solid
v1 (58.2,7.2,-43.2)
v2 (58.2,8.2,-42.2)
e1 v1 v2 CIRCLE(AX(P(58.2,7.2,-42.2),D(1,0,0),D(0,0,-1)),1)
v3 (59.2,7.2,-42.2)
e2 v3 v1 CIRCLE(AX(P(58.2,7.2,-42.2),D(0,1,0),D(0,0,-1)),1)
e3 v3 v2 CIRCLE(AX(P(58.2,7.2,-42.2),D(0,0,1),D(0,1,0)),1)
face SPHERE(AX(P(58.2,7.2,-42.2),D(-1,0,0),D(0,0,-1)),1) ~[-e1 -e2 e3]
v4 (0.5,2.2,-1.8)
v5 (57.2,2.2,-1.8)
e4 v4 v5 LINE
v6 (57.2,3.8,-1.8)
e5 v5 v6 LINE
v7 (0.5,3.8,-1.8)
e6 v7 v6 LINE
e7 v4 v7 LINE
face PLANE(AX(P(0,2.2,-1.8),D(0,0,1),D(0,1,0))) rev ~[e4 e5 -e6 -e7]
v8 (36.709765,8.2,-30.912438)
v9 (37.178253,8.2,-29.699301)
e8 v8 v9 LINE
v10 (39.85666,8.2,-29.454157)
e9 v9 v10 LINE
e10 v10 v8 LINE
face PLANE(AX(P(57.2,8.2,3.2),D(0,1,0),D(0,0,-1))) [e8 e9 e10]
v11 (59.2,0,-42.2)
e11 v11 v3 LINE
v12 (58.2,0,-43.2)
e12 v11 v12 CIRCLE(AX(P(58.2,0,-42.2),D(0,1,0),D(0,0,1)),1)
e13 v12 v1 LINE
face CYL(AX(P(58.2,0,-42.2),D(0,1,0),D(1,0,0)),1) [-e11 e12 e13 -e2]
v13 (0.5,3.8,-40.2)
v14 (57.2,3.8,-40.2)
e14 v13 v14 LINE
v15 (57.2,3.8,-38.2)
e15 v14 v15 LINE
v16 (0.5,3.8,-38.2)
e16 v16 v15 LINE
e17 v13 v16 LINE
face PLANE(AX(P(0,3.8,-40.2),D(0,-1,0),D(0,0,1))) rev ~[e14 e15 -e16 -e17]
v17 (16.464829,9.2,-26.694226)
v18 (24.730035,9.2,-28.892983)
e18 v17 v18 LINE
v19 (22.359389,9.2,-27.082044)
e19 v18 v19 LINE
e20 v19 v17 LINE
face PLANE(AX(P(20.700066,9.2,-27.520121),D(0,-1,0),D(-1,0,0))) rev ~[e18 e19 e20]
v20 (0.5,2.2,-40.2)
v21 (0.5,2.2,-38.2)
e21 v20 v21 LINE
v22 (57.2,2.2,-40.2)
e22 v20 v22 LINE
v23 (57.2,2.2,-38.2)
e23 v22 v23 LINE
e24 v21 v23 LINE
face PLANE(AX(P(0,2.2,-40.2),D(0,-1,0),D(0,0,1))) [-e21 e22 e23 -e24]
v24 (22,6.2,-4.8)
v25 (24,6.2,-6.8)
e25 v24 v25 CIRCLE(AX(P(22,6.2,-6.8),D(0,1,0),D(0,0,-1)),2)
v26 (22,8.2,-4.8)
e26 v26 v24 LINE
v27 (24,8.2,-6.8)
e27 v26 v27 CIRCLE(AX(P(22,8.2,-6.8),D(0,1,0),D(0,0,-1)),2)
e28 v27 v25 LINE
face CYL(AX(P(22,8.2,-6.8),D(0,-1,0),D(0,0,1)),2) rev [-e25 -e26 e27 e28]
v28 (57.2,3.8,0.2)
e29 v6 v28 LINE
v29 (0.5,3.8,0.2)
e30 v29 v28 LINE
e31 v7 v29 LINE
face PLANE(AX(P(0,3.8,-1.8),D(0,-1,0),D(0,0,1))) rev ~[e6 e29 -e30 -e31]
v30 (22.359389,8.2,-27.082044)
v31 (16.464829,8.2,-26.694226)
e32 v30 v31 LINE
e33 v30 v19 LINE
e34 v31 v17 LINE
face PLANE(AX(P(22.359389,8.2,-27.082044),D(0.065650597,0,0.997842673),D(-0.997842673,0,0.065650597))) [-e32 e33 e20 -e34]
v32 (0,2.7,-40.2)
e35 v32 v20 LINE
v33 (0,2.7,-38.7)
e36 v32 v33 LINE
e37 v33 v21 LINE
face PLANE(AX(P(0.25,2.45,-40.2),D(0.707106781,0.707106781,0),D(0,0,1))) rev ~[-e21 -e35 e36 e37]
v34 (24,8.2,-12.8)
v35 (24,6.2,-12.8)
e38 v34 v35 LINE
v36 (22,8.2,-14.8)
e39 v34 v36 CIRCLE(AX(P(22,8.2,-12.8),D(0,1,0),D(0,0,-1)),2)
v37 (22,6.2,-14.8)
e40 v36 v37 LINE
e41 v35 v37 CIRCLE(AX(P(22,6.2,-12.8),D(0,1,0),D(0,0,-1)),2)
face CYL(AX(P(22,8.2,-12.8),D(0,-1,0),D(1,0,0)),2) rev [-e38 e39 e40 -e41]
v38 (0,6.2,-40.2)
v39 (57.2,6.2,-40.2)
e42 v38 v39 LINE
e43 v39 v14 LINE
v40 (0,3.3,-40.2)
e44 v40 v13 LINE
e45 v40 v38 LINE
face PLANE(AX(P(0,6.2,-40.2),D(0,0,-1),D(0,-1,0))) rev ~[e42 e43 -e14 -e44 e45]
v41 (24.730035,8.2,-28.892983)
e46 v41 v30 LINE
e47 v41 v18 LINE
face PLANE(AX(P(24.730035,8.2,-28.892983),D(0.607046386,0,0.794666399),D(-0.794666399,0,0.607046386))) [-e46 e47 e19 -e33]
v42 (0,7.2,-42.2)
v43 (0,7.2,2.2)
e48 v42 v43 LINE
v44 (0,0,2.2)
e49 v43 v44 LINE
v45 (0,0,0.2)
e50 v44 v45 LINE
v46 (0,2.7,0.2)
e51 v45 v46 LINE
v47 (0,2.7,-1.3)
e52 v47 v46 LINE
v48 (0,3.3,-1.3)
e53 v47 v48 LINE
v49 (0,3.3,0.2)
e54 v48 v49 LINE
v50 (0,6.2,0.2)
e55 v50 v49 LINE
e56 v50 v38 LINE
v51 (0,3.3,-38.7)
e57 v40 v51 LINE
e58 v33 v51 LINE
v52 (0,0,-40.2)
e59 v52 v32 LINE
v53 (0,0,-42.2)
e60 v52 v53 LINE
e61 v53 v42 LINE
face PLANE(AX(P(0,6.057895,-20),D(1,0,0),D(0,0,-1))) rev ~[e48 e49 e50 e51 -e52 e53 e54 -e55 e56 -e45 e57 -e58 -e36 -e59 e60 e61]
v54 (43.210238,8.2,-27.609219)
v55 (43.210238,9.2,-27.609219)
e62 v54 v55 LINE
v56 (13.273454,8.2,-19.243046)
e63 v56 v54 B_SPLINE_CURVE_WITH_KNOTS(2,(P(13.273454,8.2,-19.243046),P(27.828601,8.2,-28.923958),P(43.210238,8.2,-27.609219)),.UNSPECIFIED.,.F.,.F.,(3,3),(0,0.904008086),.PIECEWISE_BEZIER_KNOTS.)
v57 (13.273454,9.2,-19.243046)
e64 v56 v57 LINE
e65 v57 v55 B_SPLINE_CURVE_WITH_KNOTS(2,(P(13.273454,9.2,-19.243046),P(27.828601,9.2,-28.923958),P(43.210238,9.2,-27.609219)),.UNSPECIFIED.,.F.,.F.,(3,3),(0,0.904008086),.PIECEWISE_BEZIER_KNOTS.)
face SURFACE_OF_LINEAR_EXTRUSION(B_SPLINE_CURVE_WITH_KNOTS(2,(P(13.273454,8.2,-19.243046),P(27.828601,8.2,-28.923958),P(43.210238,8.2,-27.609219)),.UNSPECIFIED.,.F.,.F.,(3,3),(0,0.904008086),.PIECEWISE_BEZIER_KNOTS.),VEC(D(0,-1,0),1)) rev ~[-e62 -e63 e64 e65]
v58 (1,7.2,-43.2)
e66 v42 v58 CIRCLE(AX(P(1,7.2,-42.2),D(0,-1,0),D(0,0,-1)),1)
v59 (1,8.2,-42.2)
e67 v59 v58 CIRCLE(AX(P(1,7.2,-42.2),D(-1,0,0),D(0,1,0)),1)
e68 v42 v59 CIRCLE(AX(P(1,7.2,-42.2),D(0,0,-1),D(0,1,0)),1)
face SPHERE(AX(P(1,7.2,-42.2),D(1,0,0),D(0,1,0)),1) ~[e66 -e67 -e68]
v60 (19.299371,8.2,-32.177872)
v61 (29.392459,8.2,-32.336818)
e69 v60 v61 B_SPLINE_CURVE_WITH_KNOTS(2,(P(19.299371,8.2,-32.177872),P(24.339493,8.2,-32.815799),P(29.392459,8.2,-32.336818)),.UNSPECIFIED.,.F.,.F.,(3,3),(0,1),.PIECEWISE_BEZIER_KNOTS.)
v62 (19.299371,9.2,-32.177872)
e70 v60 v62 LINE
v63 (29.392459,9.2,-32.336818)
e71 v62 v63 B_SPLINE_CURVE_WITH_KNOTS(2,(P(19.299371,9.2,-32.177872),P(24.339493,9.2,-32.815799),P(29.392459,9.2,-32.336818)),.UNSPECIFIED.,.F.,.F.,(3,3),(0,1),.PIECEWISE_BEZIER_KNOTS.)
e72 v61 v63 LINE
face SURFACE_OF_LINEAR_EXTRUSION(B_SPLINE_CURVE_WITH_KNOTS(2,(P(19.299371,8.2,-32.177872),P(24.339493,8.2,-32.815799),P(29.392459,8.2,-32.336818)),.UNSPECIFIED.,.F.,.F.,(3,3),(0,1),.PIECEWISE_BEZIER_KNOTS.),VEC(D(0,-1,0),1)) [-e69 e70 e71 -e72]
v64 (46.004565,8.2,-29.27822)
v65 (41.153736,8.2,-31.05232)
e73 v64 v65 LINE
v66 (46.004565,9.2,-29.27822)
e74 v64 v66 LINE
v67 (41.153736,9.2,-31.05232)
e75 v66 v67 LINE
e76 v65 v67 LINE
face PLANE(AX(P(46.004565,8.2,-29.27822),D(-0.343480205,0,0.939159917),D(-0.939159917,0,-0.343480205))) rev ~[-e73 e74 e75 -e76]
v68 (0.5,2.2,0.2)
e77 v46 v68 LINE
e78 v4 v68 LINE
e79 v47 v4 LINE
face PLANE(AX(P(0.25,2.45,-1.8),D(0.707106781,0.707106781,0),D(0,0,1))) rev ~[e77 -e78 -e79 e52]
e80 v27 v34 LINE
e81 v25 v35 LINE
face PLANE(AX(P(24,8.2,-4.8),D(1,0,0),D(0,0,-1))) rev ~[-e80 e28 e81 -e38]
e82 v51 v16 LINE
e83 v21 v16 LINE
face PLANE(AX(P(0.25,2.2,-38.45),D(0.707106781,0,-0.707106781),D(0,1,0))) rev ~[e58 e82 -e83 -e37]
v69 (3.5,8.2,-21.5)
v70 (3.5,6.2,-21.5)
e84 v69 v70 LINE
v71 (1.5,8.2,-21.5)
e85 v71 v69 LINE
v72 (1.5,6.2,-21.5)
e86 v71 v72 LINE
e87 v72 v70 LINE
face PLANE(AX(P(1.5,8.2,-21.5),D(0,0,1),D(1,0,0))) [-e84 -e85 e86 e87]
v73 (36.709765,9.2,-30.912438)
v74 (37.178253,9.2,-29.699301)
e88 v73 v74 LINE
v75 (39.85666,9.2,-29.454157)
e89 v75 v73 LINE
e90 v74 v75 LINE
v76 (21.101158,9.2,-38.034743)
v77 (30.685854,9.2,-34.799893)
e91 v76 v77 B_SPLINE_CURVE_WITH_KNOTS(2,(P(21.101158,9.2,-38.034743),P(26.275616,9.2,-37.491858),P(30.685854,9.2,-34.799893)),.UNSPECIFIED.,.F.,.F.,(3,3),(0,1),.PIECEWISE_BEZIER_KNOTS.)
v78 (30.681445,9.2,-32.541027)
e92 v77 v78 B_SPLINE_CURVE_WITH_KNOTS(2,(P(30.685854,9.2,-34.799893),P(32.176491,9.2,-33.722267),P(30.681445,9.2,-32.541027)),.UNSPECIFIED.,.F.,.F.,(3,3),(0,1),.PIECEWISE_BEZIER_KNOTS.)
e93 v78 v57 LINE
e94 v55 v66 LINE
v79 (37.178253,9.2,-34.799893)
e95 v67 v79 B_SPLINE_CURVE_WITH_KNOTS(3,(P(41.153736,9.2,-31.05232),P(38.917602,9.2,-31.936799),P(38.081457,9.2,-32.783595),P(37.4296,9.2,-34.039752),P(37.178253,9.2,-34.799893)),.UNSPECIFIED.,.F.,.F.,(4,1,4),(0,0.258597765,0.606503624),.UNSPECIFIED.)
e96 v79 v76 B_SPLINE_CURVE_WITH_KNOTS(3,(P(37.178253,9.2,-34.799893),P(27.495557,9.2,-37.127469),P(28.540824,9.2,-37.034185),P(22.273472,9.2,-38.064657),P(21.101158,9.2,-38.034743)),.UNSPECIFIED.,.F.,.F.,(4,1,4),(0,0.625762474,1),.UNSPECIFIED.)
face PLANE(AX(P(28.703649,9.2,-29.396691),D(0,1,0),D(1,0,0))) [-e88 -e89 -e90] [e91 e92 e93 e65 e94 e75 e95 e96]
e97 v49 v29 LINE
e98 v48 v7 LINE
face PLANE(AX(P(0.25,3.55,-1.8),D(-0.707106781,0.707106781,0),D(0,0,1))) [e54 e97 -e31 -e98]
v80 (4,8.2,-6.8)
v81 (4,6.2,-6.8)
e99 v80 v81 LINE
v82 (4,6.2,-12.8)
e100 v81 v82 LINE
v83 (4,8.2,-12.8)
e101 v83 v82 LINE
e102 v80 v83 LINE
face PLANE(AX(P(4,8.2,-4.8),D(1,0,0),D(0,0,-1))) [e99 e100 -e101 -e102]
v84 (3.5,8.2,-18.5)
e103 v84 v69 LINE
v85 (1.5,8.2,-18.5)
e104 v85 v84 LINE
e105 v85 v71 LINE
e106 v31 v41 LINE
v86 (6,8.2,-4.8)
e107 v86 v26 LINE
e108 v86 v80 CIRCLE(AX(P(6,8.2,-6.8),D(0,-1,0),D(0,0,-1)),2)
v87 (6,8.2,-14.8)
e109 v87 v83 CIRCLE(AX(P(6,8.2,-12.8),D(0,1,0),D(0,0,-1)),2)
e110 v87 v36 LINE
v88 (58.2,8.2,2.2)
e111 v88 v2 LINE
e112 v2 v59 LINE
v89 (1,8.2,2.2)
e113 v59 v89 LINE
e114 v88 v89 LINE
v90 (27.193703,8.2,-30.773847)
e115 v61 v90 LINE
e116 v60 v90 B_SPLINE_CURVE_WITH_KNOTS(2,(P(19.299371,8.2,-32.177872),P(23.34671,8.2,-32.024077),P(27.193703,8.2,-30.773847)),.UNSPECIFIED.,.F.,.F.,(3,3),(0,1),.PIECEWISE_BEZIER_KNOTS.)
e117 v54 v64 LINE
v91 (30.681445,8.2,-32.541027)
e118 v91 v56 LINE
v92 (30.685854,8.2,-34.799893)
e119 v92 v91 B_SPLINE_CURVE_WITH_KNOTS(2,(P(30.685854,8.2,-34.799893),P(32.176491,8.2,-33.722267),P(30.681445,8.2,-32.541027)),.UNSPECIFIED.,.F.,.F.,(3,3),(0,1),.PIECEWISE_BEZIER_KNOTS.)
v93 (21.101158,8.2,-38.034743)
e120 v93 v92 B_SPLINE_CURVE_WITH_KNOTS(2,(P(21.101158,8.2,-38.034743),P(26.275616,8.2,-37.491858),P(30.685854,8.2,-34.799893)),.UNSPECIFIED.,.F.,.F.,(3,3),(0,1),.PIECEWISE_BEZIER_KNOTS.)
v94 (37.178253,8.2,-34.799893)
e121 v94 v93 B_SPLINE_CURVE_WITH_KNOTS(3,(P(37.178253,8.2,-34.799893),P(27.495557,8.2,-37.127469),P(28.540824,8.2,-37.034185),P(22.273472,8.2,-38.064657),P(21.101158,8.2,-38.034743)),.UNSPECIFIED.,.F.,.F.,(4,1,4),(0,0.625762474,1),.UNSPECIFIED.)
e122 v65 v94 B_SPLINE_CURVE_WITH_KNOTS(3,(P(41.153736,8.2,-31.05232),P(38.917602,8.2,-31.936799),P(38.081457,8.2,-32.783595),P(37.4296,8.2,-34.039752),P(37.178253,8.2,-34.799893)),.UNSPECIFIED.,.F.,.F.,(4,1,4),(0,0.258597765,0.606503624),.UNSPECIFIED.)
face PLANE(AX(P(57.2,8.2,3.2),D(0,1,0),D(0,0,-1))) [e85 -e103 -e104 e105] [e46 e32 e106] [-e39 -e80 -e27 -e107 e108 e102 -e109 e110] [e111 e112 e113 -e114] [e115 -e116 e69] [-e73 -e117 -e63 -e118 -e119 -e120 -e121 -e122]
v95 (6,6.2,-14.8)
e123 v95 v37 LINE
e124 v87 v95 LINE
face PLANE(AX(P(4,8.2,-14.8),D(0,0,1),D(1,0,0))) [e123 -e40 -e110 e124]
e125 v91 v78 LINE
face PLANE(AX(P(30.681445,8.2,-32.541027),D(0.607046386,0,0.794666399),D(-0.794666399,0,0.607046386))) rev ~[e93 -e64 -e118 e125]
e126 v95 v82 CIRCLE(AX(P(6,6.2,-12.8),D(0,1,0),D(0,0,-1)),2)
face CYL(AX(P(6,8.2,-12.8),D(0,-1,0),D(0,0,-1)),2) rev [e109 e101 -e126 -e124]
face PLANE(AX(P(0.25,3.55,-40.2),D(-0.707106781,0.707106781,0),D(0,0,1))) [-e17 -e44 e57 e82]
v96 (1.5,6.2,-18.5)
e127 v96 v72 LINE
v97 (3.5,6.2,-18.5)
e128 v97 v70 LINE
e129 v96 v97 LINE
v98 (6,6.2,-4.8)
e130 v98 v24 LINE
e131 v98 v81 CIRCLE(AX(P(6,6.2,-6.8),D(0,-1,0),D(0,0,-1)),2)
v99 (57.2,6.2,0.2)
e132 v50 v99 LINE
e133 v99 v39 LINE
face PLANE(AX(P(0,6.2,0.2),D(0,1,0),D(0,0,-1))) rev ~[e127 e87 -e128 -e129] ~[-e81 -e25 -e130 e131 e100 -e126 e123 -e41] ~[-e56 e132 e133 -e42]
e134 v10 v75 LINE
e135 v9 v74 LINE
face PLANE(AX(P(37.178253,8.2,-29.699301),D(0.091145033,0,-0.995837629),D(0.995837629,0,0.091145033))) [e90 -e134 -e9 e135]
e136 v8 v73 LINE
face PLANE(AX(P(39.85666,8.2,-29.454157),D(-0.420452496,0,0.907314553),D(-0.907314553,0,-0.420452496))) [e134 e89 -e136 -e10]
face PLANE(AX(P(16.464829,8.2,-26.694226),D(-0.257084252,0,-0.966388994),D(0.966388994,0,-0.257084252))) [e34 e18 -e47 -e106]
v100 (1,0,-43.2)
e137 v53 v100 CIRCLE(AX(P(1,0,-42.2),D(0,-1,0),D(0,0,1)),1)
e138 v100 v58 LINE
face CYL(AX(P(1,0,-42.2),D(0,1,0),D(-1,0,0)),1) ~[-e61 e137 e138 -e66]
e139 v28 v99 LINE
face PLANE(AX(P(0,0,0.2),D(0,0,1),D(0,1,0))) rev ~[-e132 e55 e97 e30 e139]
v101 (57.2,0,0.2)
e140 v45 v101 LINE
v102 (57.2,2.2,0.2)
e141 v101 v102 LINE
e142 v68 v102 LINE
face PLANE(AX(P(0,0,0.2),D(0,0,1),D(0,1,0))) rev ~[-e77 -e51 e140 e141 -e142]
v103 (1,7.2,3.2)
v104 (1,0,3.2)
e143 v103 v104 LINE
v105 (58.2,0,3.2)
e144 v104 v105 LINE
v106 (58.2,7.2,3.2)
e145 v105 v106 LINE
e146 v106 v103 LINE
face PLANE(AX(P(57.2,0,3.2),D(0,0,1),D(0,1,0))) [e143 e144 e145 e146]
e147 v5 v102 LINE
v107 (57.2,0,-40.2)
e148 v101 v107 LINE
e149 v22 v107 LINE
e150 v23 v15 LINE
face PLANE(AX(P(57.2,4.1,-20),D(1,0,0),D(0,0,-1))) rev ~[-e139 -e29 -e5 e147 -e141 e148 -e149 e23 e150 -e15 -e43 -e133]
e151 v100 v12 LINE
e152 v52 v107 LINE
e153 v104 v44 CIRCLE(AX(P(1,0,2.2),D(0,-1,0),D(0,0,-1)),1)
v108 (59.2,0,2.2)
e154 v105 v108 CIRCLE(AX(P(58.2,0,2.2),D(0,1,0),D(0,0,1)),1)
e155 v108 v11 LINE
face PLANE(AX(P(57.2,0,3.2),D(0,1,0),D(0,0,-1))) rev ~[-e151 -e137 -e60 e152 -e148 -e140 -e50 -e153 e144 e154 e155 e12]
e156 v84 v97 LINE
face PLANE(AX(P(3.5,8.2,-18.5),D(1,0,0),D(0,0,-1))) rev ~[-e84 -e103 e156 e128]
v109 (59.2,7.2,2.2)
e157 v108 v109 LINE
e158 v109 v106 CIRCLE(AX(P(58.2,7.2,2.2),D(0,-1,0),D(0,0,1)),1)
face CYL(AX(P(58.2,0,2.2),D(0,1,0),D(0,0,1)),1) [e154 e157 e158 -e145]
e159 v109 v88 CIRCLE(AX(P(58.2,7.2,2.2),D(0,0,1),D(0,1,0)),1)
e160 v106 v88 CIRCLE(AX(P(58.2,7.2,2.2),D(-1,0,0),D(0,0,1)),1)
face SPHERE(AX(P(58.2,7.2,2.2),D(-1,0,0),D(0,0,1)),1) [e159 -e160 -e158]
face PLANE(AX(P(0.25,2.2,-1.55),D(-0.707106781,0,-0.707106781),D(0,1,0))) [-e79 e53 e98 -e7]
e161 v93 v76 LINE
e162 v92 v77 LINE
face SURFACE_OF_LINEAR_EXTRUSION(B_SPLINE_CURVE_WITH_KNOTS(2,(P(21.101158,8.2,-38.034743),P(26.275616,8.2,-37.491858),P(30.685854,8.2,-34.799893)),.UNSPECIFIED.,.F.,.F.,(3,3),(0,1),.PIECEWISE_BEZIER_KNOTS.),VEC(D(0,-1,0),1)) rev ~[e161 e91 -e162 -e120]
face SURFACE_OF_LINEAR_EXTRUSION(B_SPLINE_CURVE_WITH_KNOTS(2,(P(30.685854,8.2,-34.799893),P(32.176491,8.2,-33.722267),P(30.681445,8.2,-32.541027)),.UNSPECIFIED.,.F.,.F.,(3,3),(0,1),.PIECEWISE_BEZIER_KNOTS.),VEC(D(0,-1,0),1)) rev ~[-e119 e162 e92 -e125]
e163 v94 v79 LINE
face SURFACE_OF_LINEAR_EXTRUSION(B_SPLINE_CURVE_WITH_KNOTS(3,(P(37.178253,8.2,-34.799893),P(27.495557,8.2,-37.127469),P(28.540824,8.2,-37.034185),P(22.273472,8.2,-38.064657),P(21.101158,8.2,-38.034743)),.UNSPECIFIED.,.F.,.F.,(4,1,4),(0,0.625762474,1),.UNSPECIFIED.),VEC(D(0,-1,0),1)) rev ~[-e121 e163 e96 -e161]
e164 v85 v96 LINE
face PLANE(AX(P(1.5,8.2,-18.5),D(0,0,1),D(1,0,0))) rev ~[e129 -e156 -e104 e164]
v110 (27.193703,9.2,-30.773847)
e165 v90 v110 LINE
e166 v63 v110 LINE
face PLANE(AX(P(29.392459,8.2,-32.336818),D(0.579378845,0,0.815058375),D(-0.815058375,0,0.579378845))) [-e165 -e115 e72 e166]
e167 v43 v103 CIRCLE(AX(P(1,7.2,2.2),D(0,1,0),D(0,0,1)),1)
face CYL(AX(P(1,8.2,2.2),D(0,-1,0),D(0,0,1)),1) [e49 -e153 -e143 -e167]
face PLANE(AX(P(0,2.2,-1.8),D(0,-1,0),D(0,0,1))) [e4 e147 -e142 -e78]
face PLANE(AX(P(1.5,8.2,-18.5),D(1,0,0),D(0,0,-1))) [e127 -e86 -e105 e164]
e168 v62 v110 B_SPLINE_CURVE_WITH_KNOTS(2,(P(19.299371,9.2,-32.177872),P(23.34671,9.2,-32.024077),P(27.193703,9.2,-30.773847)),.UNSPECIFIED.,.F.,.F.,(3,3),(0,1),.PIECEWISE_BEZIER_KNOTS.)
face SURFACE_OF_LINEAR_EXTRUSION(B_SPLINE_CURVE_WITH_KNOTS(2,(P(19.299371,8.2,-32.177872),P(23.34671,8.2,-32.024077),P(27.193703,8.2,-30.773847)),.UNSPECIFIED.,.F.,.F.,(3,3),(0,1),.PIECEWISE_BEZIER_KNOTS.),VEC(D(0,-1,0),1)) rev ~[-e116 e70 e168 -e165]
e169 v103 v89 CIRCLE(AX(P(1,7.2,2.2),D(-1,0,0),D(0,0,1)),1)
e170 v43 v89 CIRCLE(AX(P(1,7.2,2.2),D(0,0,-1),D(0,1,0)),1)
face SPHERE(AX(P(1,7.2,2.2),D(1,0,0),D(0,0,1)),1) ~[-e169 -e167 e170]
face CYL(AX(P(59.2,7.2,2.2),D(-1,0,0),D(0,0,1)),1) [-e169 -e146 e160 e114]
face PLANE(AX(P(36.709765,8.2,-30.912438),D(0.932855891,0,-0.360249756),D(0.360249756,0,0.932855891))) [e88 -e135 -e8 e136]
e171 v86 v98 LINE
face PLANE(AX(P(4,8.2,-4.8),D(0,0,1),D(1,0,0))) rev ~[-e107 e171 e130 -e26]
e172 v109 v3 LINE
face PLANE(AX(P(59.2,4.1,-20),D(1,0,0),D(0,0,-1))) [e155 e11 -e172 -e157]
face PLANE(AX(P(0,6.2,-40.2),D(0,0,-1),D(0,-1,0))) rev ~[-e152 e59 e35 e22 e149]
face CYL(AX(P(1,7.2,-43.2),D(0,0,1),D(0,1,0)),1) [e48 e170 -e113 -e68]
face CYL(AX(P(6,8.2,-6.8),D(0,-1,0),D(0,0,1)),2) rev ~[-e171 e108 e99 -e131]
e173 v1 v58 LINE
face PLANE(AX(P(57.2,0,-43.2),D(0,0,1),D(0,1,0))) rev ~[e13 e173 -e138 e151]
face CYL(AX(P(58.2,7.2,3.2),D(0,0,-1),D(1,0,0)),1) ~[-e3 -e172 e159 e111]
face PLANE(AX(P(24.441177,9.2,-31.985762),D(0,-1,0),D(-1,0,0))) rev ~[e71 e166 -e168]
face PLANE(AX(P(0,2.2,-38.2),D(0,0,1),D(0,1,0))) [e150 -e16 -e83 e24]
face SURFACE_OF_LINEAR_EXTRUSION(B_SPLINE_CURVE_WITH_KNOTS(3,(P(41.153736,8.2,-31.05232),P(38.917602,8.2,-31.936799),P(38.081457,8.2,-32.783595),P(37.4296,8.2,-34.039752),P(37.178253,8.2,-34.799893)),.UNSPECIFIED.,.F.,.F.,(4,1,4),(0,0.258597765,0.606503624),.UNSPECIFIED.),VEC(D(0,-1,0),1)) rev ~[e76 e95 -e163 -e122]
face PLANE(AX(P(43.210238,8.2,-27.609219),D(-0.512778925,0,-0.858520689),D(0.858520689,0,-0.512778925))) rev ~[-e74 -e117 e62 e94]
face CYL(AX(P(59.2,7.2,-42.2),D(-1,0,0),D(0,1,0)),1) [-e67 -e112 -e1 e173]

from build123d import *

# Parameters (mm, degrees)
EXTRUDE_1_DEPTH     = 57.2
SKETCH_2_W          = 2
SKETCH_2_H          = 1.6
EXTRUDE_2_DEPTH     = 57.2
CHAMFER_1_SIZE      = 0.5
SKETCH_3_W          = 46.4
SKETCH_3_H          = 8.2
EXTRUDE_3_DEPTH     = 2
SKETCH_4_W          = 20
SKETCH_4_H          = 10
CUT_EXTRUDE_1_DEPTH = 2
FILLET_1_R          = 1
FILLET_2_R          = 2
SKETCH_5_W          = 2
SKETCH_5_H          = 3
CUT_EXTRUDE_2_DEPTH = 2
EXTRUDE_4_DEPTH     = 1


with BuildPart() as part:
    # 草图1 → 凸台-拉伸1 (new body)
    with BuildSketch(Plane(origin=(0, 0, 0), x_dir=(0, 0, -1), z_dir=(1, 0, 0))):
        Polygon((-3.2, 0), (-0.2, 0), (-0.2, 6.2), (40.2, 6.2), (40.2, 0), (43.2, 0), (43.2, 8.2), (-3.2, 8.2), align=None)
    extrude(amount=EXTRUDE_1_DEPTH)

    # 草图2 → 凸台-拉伸2 (add)
    with BuildSketch(Plane.ZY):
        with Locations((-39.2, 3)):
            Rectangle(SKETCH_2_W, SKETCH_2_H)
        with Locations((-0.8, 3)):
            Rectangle(SKETCH_2_W, SKETCH_2_H)
    extrude(amount=-EXTRUDE_2_DEPTH)

    # 倒角1
    chamfer_1_edges = [part.edges().sort_by_distance(p)[0] for p in [
        (0, 2.2, -39.2),
        (0, 3, -38.2),
        (0, 3.8, -39.2),
        (0, 3.8, -0.8),
        (0, 3, -1.8),
        (0, 2.2, -0.8),
    ]]
    chamfer(chamfer_1_edges, length=CHAMFER_1_SIZE)

    # 草图3 → 凸台-拉伸3 (add)
    with BuildSketch(Plane(origin=(57.2, 0, 0), x_dir=(0, 0, -1), z_dir=(1, 0, 0))):
        with Locations((20, 4.1)):
            Rectangle(SKETCH_3_W, SKETCH_3_H)
    extrude(amount=EXTRUDE_3_DEPTH)

    # 草图4 → 切除-拉伸1 (cut)
    with BuildSketch(Plane(origin=(0, 8.2, 0), x_dir=(1, 0, 0), z_dir=(0, 1, 0))):
        with Locations((14, 9.8)):
            Rectangle(SKETCH_4_W, SKETCH_4_H)
    extrude(amount=-CUT_EXTRUDE_1_DEPTH, mode=Mode.SUBTRACT)

    # 圆角1
    fillet_1_edges = [part.edges().sort_by_distance(p)[0] for p in [
        (29.6, 8.2, 3.2),
        (29.6, 8.2, -43.2),
        (0, 4.1, 3.2),
        (0, 8.2, -20),
        (0, 4.1, -43.2),
        (59.2, 4.1, 3.2),
        (59.2, 4.1, -43.2),
        (59.2, 8.2, -20),
    ]]
    fillet(fillet_1_edges, radius=FILLET_1_R)

    # 圆角2
    fillet_2_edges = [part.edges().sort_by_distance(p)[0] for p in [
        (4, 7.2, -4.8),
        (4, 7.2, -14.8),
        (24, 7.2, -14.8),
        (24, 7.2, -4.8),
    ]]
    fillet(fillet_2_edges, radius=FILLET_2_R)

    # 草图5 → 切除-拉伸2 (cut)
    with BuildSketch(Plane(origin=(0, 8.2, 0), x_dir=(1, 0, 0), z_dir=(0, 1, 0))):
        with Locations((2.5, 20)):
            Rectangle(SKETCH_5_W, SKETCH_5_H)
    extrude(amount=-CUT_EXTRUDE_2_DEPTH, mode=Mode.SUBTRACT)

    # 草图6 → 凸台-拉伸4 (add)
    # profile 1 of 3: a face of its own
    with BuildSketch(Plane(origin=(0, 8.2, 0), x_dir=(1, 0, 0), z_dir=(0, 1, 0))):
        with BuildLine():
            Line((43.210238434, 27.609218662), (46.004565148, 29.278219616))
            Line((46.004565148, 29.278219616), (41.153736267, 31.052319712))
            add(Edge.make_bspline(
                [(41.153736267, 31.052319712), (38.917601784, 31.936798518), (38.081456616, 32.783594578), (37.429599552, 34.039752086), (37.178253479, 34.799893267)],
                knots=[0, 0, 0, 0, 0.258597765, 0.606503624, 0.606503624, 0.606503624, 0.606503624], degree=3))
            add(Edge.make_bspline(
                [(37.178253479, 34.799893267), (27.495556624, 37.127469308), (28.540823689, 37.034185208), (22.273471515, 38.064657168), (21.101157932, 38.034742746)],
                knots=[0, 0, 0, 0, 0.625762474, 1, 1, 1, 1], degree=3))
            add(Edge.make_bspline(
                [(21.101157932, 38.034742746), (26.275616415, 37.491858388), (30.685853804, 34.799893267)],
                knots=[0, 0, 0, 1, 1, 1], degree=2))
            add(Edge.make_bspline(
                [(30.685853804, 34.799893267), (32.176490653, 33.72226655), (30.681444749, 32.541026773)],
                knots=[0, 0, 0, 1, 1, 1], degree=2))
            Line((30.681444749, 32.541026773), (13.273453583, 19.243046464))
            add(Edge.make_bspline(
                [(13.273453583, 19.243046464), (27.82860145, 28.923958356), (43.210238434, 27.609218662)],
                knots=[0, 0, 0, 0.904008086, 0.904008086, 0.904008086], degree=2))
        make_face()
        Polygon((36.709764713, 30.912438237), (37.178253479, 29.699300691), (39.856659814, 29.454156879), align=None, mode=Mode.SUBTRACT)
    # profile 2 of 3: a face of its own
    with BuildSketch(Plane(origin=(0, 8.2, 0), x_dir=(1, 0, 0), z_dir=(0, 1, 0))):
        with BuildLine():
            Line((29.392459455, 32.336818489), (27.193702695, 30.773846816))
            add(Edge.make_bspline(
                [(19.299371197, 32.177872217), (23.346710302, 32.024077211), (27.193702695, 30.773846816)],
                knots=[0, 0, 0, 1, 1, 1], degree=2))
            add(Edge.make_bspline(
                [(19.299371197, 32.177872217), (24.339492566, 32.815798813), (29.392459455, 32.336818489)],
                knots=[0, 0, 0, 1, 1, 1], degree=2))
        make_face()
    # profile 3 of 3: a face of its own
    with BuildSketch(Plane(origin=(0, 8.2, 0), x_dir=(1, 0, 0), z_dir=(0, 1, 0))):
        Polygon((16.46482935, 26.694225841), (24.730035483, 28.8929826), (22.359389371, 27.082043876), align=None)
    extrude(amount=EXTRUDE_4_DEPTH)


solid = part.part
